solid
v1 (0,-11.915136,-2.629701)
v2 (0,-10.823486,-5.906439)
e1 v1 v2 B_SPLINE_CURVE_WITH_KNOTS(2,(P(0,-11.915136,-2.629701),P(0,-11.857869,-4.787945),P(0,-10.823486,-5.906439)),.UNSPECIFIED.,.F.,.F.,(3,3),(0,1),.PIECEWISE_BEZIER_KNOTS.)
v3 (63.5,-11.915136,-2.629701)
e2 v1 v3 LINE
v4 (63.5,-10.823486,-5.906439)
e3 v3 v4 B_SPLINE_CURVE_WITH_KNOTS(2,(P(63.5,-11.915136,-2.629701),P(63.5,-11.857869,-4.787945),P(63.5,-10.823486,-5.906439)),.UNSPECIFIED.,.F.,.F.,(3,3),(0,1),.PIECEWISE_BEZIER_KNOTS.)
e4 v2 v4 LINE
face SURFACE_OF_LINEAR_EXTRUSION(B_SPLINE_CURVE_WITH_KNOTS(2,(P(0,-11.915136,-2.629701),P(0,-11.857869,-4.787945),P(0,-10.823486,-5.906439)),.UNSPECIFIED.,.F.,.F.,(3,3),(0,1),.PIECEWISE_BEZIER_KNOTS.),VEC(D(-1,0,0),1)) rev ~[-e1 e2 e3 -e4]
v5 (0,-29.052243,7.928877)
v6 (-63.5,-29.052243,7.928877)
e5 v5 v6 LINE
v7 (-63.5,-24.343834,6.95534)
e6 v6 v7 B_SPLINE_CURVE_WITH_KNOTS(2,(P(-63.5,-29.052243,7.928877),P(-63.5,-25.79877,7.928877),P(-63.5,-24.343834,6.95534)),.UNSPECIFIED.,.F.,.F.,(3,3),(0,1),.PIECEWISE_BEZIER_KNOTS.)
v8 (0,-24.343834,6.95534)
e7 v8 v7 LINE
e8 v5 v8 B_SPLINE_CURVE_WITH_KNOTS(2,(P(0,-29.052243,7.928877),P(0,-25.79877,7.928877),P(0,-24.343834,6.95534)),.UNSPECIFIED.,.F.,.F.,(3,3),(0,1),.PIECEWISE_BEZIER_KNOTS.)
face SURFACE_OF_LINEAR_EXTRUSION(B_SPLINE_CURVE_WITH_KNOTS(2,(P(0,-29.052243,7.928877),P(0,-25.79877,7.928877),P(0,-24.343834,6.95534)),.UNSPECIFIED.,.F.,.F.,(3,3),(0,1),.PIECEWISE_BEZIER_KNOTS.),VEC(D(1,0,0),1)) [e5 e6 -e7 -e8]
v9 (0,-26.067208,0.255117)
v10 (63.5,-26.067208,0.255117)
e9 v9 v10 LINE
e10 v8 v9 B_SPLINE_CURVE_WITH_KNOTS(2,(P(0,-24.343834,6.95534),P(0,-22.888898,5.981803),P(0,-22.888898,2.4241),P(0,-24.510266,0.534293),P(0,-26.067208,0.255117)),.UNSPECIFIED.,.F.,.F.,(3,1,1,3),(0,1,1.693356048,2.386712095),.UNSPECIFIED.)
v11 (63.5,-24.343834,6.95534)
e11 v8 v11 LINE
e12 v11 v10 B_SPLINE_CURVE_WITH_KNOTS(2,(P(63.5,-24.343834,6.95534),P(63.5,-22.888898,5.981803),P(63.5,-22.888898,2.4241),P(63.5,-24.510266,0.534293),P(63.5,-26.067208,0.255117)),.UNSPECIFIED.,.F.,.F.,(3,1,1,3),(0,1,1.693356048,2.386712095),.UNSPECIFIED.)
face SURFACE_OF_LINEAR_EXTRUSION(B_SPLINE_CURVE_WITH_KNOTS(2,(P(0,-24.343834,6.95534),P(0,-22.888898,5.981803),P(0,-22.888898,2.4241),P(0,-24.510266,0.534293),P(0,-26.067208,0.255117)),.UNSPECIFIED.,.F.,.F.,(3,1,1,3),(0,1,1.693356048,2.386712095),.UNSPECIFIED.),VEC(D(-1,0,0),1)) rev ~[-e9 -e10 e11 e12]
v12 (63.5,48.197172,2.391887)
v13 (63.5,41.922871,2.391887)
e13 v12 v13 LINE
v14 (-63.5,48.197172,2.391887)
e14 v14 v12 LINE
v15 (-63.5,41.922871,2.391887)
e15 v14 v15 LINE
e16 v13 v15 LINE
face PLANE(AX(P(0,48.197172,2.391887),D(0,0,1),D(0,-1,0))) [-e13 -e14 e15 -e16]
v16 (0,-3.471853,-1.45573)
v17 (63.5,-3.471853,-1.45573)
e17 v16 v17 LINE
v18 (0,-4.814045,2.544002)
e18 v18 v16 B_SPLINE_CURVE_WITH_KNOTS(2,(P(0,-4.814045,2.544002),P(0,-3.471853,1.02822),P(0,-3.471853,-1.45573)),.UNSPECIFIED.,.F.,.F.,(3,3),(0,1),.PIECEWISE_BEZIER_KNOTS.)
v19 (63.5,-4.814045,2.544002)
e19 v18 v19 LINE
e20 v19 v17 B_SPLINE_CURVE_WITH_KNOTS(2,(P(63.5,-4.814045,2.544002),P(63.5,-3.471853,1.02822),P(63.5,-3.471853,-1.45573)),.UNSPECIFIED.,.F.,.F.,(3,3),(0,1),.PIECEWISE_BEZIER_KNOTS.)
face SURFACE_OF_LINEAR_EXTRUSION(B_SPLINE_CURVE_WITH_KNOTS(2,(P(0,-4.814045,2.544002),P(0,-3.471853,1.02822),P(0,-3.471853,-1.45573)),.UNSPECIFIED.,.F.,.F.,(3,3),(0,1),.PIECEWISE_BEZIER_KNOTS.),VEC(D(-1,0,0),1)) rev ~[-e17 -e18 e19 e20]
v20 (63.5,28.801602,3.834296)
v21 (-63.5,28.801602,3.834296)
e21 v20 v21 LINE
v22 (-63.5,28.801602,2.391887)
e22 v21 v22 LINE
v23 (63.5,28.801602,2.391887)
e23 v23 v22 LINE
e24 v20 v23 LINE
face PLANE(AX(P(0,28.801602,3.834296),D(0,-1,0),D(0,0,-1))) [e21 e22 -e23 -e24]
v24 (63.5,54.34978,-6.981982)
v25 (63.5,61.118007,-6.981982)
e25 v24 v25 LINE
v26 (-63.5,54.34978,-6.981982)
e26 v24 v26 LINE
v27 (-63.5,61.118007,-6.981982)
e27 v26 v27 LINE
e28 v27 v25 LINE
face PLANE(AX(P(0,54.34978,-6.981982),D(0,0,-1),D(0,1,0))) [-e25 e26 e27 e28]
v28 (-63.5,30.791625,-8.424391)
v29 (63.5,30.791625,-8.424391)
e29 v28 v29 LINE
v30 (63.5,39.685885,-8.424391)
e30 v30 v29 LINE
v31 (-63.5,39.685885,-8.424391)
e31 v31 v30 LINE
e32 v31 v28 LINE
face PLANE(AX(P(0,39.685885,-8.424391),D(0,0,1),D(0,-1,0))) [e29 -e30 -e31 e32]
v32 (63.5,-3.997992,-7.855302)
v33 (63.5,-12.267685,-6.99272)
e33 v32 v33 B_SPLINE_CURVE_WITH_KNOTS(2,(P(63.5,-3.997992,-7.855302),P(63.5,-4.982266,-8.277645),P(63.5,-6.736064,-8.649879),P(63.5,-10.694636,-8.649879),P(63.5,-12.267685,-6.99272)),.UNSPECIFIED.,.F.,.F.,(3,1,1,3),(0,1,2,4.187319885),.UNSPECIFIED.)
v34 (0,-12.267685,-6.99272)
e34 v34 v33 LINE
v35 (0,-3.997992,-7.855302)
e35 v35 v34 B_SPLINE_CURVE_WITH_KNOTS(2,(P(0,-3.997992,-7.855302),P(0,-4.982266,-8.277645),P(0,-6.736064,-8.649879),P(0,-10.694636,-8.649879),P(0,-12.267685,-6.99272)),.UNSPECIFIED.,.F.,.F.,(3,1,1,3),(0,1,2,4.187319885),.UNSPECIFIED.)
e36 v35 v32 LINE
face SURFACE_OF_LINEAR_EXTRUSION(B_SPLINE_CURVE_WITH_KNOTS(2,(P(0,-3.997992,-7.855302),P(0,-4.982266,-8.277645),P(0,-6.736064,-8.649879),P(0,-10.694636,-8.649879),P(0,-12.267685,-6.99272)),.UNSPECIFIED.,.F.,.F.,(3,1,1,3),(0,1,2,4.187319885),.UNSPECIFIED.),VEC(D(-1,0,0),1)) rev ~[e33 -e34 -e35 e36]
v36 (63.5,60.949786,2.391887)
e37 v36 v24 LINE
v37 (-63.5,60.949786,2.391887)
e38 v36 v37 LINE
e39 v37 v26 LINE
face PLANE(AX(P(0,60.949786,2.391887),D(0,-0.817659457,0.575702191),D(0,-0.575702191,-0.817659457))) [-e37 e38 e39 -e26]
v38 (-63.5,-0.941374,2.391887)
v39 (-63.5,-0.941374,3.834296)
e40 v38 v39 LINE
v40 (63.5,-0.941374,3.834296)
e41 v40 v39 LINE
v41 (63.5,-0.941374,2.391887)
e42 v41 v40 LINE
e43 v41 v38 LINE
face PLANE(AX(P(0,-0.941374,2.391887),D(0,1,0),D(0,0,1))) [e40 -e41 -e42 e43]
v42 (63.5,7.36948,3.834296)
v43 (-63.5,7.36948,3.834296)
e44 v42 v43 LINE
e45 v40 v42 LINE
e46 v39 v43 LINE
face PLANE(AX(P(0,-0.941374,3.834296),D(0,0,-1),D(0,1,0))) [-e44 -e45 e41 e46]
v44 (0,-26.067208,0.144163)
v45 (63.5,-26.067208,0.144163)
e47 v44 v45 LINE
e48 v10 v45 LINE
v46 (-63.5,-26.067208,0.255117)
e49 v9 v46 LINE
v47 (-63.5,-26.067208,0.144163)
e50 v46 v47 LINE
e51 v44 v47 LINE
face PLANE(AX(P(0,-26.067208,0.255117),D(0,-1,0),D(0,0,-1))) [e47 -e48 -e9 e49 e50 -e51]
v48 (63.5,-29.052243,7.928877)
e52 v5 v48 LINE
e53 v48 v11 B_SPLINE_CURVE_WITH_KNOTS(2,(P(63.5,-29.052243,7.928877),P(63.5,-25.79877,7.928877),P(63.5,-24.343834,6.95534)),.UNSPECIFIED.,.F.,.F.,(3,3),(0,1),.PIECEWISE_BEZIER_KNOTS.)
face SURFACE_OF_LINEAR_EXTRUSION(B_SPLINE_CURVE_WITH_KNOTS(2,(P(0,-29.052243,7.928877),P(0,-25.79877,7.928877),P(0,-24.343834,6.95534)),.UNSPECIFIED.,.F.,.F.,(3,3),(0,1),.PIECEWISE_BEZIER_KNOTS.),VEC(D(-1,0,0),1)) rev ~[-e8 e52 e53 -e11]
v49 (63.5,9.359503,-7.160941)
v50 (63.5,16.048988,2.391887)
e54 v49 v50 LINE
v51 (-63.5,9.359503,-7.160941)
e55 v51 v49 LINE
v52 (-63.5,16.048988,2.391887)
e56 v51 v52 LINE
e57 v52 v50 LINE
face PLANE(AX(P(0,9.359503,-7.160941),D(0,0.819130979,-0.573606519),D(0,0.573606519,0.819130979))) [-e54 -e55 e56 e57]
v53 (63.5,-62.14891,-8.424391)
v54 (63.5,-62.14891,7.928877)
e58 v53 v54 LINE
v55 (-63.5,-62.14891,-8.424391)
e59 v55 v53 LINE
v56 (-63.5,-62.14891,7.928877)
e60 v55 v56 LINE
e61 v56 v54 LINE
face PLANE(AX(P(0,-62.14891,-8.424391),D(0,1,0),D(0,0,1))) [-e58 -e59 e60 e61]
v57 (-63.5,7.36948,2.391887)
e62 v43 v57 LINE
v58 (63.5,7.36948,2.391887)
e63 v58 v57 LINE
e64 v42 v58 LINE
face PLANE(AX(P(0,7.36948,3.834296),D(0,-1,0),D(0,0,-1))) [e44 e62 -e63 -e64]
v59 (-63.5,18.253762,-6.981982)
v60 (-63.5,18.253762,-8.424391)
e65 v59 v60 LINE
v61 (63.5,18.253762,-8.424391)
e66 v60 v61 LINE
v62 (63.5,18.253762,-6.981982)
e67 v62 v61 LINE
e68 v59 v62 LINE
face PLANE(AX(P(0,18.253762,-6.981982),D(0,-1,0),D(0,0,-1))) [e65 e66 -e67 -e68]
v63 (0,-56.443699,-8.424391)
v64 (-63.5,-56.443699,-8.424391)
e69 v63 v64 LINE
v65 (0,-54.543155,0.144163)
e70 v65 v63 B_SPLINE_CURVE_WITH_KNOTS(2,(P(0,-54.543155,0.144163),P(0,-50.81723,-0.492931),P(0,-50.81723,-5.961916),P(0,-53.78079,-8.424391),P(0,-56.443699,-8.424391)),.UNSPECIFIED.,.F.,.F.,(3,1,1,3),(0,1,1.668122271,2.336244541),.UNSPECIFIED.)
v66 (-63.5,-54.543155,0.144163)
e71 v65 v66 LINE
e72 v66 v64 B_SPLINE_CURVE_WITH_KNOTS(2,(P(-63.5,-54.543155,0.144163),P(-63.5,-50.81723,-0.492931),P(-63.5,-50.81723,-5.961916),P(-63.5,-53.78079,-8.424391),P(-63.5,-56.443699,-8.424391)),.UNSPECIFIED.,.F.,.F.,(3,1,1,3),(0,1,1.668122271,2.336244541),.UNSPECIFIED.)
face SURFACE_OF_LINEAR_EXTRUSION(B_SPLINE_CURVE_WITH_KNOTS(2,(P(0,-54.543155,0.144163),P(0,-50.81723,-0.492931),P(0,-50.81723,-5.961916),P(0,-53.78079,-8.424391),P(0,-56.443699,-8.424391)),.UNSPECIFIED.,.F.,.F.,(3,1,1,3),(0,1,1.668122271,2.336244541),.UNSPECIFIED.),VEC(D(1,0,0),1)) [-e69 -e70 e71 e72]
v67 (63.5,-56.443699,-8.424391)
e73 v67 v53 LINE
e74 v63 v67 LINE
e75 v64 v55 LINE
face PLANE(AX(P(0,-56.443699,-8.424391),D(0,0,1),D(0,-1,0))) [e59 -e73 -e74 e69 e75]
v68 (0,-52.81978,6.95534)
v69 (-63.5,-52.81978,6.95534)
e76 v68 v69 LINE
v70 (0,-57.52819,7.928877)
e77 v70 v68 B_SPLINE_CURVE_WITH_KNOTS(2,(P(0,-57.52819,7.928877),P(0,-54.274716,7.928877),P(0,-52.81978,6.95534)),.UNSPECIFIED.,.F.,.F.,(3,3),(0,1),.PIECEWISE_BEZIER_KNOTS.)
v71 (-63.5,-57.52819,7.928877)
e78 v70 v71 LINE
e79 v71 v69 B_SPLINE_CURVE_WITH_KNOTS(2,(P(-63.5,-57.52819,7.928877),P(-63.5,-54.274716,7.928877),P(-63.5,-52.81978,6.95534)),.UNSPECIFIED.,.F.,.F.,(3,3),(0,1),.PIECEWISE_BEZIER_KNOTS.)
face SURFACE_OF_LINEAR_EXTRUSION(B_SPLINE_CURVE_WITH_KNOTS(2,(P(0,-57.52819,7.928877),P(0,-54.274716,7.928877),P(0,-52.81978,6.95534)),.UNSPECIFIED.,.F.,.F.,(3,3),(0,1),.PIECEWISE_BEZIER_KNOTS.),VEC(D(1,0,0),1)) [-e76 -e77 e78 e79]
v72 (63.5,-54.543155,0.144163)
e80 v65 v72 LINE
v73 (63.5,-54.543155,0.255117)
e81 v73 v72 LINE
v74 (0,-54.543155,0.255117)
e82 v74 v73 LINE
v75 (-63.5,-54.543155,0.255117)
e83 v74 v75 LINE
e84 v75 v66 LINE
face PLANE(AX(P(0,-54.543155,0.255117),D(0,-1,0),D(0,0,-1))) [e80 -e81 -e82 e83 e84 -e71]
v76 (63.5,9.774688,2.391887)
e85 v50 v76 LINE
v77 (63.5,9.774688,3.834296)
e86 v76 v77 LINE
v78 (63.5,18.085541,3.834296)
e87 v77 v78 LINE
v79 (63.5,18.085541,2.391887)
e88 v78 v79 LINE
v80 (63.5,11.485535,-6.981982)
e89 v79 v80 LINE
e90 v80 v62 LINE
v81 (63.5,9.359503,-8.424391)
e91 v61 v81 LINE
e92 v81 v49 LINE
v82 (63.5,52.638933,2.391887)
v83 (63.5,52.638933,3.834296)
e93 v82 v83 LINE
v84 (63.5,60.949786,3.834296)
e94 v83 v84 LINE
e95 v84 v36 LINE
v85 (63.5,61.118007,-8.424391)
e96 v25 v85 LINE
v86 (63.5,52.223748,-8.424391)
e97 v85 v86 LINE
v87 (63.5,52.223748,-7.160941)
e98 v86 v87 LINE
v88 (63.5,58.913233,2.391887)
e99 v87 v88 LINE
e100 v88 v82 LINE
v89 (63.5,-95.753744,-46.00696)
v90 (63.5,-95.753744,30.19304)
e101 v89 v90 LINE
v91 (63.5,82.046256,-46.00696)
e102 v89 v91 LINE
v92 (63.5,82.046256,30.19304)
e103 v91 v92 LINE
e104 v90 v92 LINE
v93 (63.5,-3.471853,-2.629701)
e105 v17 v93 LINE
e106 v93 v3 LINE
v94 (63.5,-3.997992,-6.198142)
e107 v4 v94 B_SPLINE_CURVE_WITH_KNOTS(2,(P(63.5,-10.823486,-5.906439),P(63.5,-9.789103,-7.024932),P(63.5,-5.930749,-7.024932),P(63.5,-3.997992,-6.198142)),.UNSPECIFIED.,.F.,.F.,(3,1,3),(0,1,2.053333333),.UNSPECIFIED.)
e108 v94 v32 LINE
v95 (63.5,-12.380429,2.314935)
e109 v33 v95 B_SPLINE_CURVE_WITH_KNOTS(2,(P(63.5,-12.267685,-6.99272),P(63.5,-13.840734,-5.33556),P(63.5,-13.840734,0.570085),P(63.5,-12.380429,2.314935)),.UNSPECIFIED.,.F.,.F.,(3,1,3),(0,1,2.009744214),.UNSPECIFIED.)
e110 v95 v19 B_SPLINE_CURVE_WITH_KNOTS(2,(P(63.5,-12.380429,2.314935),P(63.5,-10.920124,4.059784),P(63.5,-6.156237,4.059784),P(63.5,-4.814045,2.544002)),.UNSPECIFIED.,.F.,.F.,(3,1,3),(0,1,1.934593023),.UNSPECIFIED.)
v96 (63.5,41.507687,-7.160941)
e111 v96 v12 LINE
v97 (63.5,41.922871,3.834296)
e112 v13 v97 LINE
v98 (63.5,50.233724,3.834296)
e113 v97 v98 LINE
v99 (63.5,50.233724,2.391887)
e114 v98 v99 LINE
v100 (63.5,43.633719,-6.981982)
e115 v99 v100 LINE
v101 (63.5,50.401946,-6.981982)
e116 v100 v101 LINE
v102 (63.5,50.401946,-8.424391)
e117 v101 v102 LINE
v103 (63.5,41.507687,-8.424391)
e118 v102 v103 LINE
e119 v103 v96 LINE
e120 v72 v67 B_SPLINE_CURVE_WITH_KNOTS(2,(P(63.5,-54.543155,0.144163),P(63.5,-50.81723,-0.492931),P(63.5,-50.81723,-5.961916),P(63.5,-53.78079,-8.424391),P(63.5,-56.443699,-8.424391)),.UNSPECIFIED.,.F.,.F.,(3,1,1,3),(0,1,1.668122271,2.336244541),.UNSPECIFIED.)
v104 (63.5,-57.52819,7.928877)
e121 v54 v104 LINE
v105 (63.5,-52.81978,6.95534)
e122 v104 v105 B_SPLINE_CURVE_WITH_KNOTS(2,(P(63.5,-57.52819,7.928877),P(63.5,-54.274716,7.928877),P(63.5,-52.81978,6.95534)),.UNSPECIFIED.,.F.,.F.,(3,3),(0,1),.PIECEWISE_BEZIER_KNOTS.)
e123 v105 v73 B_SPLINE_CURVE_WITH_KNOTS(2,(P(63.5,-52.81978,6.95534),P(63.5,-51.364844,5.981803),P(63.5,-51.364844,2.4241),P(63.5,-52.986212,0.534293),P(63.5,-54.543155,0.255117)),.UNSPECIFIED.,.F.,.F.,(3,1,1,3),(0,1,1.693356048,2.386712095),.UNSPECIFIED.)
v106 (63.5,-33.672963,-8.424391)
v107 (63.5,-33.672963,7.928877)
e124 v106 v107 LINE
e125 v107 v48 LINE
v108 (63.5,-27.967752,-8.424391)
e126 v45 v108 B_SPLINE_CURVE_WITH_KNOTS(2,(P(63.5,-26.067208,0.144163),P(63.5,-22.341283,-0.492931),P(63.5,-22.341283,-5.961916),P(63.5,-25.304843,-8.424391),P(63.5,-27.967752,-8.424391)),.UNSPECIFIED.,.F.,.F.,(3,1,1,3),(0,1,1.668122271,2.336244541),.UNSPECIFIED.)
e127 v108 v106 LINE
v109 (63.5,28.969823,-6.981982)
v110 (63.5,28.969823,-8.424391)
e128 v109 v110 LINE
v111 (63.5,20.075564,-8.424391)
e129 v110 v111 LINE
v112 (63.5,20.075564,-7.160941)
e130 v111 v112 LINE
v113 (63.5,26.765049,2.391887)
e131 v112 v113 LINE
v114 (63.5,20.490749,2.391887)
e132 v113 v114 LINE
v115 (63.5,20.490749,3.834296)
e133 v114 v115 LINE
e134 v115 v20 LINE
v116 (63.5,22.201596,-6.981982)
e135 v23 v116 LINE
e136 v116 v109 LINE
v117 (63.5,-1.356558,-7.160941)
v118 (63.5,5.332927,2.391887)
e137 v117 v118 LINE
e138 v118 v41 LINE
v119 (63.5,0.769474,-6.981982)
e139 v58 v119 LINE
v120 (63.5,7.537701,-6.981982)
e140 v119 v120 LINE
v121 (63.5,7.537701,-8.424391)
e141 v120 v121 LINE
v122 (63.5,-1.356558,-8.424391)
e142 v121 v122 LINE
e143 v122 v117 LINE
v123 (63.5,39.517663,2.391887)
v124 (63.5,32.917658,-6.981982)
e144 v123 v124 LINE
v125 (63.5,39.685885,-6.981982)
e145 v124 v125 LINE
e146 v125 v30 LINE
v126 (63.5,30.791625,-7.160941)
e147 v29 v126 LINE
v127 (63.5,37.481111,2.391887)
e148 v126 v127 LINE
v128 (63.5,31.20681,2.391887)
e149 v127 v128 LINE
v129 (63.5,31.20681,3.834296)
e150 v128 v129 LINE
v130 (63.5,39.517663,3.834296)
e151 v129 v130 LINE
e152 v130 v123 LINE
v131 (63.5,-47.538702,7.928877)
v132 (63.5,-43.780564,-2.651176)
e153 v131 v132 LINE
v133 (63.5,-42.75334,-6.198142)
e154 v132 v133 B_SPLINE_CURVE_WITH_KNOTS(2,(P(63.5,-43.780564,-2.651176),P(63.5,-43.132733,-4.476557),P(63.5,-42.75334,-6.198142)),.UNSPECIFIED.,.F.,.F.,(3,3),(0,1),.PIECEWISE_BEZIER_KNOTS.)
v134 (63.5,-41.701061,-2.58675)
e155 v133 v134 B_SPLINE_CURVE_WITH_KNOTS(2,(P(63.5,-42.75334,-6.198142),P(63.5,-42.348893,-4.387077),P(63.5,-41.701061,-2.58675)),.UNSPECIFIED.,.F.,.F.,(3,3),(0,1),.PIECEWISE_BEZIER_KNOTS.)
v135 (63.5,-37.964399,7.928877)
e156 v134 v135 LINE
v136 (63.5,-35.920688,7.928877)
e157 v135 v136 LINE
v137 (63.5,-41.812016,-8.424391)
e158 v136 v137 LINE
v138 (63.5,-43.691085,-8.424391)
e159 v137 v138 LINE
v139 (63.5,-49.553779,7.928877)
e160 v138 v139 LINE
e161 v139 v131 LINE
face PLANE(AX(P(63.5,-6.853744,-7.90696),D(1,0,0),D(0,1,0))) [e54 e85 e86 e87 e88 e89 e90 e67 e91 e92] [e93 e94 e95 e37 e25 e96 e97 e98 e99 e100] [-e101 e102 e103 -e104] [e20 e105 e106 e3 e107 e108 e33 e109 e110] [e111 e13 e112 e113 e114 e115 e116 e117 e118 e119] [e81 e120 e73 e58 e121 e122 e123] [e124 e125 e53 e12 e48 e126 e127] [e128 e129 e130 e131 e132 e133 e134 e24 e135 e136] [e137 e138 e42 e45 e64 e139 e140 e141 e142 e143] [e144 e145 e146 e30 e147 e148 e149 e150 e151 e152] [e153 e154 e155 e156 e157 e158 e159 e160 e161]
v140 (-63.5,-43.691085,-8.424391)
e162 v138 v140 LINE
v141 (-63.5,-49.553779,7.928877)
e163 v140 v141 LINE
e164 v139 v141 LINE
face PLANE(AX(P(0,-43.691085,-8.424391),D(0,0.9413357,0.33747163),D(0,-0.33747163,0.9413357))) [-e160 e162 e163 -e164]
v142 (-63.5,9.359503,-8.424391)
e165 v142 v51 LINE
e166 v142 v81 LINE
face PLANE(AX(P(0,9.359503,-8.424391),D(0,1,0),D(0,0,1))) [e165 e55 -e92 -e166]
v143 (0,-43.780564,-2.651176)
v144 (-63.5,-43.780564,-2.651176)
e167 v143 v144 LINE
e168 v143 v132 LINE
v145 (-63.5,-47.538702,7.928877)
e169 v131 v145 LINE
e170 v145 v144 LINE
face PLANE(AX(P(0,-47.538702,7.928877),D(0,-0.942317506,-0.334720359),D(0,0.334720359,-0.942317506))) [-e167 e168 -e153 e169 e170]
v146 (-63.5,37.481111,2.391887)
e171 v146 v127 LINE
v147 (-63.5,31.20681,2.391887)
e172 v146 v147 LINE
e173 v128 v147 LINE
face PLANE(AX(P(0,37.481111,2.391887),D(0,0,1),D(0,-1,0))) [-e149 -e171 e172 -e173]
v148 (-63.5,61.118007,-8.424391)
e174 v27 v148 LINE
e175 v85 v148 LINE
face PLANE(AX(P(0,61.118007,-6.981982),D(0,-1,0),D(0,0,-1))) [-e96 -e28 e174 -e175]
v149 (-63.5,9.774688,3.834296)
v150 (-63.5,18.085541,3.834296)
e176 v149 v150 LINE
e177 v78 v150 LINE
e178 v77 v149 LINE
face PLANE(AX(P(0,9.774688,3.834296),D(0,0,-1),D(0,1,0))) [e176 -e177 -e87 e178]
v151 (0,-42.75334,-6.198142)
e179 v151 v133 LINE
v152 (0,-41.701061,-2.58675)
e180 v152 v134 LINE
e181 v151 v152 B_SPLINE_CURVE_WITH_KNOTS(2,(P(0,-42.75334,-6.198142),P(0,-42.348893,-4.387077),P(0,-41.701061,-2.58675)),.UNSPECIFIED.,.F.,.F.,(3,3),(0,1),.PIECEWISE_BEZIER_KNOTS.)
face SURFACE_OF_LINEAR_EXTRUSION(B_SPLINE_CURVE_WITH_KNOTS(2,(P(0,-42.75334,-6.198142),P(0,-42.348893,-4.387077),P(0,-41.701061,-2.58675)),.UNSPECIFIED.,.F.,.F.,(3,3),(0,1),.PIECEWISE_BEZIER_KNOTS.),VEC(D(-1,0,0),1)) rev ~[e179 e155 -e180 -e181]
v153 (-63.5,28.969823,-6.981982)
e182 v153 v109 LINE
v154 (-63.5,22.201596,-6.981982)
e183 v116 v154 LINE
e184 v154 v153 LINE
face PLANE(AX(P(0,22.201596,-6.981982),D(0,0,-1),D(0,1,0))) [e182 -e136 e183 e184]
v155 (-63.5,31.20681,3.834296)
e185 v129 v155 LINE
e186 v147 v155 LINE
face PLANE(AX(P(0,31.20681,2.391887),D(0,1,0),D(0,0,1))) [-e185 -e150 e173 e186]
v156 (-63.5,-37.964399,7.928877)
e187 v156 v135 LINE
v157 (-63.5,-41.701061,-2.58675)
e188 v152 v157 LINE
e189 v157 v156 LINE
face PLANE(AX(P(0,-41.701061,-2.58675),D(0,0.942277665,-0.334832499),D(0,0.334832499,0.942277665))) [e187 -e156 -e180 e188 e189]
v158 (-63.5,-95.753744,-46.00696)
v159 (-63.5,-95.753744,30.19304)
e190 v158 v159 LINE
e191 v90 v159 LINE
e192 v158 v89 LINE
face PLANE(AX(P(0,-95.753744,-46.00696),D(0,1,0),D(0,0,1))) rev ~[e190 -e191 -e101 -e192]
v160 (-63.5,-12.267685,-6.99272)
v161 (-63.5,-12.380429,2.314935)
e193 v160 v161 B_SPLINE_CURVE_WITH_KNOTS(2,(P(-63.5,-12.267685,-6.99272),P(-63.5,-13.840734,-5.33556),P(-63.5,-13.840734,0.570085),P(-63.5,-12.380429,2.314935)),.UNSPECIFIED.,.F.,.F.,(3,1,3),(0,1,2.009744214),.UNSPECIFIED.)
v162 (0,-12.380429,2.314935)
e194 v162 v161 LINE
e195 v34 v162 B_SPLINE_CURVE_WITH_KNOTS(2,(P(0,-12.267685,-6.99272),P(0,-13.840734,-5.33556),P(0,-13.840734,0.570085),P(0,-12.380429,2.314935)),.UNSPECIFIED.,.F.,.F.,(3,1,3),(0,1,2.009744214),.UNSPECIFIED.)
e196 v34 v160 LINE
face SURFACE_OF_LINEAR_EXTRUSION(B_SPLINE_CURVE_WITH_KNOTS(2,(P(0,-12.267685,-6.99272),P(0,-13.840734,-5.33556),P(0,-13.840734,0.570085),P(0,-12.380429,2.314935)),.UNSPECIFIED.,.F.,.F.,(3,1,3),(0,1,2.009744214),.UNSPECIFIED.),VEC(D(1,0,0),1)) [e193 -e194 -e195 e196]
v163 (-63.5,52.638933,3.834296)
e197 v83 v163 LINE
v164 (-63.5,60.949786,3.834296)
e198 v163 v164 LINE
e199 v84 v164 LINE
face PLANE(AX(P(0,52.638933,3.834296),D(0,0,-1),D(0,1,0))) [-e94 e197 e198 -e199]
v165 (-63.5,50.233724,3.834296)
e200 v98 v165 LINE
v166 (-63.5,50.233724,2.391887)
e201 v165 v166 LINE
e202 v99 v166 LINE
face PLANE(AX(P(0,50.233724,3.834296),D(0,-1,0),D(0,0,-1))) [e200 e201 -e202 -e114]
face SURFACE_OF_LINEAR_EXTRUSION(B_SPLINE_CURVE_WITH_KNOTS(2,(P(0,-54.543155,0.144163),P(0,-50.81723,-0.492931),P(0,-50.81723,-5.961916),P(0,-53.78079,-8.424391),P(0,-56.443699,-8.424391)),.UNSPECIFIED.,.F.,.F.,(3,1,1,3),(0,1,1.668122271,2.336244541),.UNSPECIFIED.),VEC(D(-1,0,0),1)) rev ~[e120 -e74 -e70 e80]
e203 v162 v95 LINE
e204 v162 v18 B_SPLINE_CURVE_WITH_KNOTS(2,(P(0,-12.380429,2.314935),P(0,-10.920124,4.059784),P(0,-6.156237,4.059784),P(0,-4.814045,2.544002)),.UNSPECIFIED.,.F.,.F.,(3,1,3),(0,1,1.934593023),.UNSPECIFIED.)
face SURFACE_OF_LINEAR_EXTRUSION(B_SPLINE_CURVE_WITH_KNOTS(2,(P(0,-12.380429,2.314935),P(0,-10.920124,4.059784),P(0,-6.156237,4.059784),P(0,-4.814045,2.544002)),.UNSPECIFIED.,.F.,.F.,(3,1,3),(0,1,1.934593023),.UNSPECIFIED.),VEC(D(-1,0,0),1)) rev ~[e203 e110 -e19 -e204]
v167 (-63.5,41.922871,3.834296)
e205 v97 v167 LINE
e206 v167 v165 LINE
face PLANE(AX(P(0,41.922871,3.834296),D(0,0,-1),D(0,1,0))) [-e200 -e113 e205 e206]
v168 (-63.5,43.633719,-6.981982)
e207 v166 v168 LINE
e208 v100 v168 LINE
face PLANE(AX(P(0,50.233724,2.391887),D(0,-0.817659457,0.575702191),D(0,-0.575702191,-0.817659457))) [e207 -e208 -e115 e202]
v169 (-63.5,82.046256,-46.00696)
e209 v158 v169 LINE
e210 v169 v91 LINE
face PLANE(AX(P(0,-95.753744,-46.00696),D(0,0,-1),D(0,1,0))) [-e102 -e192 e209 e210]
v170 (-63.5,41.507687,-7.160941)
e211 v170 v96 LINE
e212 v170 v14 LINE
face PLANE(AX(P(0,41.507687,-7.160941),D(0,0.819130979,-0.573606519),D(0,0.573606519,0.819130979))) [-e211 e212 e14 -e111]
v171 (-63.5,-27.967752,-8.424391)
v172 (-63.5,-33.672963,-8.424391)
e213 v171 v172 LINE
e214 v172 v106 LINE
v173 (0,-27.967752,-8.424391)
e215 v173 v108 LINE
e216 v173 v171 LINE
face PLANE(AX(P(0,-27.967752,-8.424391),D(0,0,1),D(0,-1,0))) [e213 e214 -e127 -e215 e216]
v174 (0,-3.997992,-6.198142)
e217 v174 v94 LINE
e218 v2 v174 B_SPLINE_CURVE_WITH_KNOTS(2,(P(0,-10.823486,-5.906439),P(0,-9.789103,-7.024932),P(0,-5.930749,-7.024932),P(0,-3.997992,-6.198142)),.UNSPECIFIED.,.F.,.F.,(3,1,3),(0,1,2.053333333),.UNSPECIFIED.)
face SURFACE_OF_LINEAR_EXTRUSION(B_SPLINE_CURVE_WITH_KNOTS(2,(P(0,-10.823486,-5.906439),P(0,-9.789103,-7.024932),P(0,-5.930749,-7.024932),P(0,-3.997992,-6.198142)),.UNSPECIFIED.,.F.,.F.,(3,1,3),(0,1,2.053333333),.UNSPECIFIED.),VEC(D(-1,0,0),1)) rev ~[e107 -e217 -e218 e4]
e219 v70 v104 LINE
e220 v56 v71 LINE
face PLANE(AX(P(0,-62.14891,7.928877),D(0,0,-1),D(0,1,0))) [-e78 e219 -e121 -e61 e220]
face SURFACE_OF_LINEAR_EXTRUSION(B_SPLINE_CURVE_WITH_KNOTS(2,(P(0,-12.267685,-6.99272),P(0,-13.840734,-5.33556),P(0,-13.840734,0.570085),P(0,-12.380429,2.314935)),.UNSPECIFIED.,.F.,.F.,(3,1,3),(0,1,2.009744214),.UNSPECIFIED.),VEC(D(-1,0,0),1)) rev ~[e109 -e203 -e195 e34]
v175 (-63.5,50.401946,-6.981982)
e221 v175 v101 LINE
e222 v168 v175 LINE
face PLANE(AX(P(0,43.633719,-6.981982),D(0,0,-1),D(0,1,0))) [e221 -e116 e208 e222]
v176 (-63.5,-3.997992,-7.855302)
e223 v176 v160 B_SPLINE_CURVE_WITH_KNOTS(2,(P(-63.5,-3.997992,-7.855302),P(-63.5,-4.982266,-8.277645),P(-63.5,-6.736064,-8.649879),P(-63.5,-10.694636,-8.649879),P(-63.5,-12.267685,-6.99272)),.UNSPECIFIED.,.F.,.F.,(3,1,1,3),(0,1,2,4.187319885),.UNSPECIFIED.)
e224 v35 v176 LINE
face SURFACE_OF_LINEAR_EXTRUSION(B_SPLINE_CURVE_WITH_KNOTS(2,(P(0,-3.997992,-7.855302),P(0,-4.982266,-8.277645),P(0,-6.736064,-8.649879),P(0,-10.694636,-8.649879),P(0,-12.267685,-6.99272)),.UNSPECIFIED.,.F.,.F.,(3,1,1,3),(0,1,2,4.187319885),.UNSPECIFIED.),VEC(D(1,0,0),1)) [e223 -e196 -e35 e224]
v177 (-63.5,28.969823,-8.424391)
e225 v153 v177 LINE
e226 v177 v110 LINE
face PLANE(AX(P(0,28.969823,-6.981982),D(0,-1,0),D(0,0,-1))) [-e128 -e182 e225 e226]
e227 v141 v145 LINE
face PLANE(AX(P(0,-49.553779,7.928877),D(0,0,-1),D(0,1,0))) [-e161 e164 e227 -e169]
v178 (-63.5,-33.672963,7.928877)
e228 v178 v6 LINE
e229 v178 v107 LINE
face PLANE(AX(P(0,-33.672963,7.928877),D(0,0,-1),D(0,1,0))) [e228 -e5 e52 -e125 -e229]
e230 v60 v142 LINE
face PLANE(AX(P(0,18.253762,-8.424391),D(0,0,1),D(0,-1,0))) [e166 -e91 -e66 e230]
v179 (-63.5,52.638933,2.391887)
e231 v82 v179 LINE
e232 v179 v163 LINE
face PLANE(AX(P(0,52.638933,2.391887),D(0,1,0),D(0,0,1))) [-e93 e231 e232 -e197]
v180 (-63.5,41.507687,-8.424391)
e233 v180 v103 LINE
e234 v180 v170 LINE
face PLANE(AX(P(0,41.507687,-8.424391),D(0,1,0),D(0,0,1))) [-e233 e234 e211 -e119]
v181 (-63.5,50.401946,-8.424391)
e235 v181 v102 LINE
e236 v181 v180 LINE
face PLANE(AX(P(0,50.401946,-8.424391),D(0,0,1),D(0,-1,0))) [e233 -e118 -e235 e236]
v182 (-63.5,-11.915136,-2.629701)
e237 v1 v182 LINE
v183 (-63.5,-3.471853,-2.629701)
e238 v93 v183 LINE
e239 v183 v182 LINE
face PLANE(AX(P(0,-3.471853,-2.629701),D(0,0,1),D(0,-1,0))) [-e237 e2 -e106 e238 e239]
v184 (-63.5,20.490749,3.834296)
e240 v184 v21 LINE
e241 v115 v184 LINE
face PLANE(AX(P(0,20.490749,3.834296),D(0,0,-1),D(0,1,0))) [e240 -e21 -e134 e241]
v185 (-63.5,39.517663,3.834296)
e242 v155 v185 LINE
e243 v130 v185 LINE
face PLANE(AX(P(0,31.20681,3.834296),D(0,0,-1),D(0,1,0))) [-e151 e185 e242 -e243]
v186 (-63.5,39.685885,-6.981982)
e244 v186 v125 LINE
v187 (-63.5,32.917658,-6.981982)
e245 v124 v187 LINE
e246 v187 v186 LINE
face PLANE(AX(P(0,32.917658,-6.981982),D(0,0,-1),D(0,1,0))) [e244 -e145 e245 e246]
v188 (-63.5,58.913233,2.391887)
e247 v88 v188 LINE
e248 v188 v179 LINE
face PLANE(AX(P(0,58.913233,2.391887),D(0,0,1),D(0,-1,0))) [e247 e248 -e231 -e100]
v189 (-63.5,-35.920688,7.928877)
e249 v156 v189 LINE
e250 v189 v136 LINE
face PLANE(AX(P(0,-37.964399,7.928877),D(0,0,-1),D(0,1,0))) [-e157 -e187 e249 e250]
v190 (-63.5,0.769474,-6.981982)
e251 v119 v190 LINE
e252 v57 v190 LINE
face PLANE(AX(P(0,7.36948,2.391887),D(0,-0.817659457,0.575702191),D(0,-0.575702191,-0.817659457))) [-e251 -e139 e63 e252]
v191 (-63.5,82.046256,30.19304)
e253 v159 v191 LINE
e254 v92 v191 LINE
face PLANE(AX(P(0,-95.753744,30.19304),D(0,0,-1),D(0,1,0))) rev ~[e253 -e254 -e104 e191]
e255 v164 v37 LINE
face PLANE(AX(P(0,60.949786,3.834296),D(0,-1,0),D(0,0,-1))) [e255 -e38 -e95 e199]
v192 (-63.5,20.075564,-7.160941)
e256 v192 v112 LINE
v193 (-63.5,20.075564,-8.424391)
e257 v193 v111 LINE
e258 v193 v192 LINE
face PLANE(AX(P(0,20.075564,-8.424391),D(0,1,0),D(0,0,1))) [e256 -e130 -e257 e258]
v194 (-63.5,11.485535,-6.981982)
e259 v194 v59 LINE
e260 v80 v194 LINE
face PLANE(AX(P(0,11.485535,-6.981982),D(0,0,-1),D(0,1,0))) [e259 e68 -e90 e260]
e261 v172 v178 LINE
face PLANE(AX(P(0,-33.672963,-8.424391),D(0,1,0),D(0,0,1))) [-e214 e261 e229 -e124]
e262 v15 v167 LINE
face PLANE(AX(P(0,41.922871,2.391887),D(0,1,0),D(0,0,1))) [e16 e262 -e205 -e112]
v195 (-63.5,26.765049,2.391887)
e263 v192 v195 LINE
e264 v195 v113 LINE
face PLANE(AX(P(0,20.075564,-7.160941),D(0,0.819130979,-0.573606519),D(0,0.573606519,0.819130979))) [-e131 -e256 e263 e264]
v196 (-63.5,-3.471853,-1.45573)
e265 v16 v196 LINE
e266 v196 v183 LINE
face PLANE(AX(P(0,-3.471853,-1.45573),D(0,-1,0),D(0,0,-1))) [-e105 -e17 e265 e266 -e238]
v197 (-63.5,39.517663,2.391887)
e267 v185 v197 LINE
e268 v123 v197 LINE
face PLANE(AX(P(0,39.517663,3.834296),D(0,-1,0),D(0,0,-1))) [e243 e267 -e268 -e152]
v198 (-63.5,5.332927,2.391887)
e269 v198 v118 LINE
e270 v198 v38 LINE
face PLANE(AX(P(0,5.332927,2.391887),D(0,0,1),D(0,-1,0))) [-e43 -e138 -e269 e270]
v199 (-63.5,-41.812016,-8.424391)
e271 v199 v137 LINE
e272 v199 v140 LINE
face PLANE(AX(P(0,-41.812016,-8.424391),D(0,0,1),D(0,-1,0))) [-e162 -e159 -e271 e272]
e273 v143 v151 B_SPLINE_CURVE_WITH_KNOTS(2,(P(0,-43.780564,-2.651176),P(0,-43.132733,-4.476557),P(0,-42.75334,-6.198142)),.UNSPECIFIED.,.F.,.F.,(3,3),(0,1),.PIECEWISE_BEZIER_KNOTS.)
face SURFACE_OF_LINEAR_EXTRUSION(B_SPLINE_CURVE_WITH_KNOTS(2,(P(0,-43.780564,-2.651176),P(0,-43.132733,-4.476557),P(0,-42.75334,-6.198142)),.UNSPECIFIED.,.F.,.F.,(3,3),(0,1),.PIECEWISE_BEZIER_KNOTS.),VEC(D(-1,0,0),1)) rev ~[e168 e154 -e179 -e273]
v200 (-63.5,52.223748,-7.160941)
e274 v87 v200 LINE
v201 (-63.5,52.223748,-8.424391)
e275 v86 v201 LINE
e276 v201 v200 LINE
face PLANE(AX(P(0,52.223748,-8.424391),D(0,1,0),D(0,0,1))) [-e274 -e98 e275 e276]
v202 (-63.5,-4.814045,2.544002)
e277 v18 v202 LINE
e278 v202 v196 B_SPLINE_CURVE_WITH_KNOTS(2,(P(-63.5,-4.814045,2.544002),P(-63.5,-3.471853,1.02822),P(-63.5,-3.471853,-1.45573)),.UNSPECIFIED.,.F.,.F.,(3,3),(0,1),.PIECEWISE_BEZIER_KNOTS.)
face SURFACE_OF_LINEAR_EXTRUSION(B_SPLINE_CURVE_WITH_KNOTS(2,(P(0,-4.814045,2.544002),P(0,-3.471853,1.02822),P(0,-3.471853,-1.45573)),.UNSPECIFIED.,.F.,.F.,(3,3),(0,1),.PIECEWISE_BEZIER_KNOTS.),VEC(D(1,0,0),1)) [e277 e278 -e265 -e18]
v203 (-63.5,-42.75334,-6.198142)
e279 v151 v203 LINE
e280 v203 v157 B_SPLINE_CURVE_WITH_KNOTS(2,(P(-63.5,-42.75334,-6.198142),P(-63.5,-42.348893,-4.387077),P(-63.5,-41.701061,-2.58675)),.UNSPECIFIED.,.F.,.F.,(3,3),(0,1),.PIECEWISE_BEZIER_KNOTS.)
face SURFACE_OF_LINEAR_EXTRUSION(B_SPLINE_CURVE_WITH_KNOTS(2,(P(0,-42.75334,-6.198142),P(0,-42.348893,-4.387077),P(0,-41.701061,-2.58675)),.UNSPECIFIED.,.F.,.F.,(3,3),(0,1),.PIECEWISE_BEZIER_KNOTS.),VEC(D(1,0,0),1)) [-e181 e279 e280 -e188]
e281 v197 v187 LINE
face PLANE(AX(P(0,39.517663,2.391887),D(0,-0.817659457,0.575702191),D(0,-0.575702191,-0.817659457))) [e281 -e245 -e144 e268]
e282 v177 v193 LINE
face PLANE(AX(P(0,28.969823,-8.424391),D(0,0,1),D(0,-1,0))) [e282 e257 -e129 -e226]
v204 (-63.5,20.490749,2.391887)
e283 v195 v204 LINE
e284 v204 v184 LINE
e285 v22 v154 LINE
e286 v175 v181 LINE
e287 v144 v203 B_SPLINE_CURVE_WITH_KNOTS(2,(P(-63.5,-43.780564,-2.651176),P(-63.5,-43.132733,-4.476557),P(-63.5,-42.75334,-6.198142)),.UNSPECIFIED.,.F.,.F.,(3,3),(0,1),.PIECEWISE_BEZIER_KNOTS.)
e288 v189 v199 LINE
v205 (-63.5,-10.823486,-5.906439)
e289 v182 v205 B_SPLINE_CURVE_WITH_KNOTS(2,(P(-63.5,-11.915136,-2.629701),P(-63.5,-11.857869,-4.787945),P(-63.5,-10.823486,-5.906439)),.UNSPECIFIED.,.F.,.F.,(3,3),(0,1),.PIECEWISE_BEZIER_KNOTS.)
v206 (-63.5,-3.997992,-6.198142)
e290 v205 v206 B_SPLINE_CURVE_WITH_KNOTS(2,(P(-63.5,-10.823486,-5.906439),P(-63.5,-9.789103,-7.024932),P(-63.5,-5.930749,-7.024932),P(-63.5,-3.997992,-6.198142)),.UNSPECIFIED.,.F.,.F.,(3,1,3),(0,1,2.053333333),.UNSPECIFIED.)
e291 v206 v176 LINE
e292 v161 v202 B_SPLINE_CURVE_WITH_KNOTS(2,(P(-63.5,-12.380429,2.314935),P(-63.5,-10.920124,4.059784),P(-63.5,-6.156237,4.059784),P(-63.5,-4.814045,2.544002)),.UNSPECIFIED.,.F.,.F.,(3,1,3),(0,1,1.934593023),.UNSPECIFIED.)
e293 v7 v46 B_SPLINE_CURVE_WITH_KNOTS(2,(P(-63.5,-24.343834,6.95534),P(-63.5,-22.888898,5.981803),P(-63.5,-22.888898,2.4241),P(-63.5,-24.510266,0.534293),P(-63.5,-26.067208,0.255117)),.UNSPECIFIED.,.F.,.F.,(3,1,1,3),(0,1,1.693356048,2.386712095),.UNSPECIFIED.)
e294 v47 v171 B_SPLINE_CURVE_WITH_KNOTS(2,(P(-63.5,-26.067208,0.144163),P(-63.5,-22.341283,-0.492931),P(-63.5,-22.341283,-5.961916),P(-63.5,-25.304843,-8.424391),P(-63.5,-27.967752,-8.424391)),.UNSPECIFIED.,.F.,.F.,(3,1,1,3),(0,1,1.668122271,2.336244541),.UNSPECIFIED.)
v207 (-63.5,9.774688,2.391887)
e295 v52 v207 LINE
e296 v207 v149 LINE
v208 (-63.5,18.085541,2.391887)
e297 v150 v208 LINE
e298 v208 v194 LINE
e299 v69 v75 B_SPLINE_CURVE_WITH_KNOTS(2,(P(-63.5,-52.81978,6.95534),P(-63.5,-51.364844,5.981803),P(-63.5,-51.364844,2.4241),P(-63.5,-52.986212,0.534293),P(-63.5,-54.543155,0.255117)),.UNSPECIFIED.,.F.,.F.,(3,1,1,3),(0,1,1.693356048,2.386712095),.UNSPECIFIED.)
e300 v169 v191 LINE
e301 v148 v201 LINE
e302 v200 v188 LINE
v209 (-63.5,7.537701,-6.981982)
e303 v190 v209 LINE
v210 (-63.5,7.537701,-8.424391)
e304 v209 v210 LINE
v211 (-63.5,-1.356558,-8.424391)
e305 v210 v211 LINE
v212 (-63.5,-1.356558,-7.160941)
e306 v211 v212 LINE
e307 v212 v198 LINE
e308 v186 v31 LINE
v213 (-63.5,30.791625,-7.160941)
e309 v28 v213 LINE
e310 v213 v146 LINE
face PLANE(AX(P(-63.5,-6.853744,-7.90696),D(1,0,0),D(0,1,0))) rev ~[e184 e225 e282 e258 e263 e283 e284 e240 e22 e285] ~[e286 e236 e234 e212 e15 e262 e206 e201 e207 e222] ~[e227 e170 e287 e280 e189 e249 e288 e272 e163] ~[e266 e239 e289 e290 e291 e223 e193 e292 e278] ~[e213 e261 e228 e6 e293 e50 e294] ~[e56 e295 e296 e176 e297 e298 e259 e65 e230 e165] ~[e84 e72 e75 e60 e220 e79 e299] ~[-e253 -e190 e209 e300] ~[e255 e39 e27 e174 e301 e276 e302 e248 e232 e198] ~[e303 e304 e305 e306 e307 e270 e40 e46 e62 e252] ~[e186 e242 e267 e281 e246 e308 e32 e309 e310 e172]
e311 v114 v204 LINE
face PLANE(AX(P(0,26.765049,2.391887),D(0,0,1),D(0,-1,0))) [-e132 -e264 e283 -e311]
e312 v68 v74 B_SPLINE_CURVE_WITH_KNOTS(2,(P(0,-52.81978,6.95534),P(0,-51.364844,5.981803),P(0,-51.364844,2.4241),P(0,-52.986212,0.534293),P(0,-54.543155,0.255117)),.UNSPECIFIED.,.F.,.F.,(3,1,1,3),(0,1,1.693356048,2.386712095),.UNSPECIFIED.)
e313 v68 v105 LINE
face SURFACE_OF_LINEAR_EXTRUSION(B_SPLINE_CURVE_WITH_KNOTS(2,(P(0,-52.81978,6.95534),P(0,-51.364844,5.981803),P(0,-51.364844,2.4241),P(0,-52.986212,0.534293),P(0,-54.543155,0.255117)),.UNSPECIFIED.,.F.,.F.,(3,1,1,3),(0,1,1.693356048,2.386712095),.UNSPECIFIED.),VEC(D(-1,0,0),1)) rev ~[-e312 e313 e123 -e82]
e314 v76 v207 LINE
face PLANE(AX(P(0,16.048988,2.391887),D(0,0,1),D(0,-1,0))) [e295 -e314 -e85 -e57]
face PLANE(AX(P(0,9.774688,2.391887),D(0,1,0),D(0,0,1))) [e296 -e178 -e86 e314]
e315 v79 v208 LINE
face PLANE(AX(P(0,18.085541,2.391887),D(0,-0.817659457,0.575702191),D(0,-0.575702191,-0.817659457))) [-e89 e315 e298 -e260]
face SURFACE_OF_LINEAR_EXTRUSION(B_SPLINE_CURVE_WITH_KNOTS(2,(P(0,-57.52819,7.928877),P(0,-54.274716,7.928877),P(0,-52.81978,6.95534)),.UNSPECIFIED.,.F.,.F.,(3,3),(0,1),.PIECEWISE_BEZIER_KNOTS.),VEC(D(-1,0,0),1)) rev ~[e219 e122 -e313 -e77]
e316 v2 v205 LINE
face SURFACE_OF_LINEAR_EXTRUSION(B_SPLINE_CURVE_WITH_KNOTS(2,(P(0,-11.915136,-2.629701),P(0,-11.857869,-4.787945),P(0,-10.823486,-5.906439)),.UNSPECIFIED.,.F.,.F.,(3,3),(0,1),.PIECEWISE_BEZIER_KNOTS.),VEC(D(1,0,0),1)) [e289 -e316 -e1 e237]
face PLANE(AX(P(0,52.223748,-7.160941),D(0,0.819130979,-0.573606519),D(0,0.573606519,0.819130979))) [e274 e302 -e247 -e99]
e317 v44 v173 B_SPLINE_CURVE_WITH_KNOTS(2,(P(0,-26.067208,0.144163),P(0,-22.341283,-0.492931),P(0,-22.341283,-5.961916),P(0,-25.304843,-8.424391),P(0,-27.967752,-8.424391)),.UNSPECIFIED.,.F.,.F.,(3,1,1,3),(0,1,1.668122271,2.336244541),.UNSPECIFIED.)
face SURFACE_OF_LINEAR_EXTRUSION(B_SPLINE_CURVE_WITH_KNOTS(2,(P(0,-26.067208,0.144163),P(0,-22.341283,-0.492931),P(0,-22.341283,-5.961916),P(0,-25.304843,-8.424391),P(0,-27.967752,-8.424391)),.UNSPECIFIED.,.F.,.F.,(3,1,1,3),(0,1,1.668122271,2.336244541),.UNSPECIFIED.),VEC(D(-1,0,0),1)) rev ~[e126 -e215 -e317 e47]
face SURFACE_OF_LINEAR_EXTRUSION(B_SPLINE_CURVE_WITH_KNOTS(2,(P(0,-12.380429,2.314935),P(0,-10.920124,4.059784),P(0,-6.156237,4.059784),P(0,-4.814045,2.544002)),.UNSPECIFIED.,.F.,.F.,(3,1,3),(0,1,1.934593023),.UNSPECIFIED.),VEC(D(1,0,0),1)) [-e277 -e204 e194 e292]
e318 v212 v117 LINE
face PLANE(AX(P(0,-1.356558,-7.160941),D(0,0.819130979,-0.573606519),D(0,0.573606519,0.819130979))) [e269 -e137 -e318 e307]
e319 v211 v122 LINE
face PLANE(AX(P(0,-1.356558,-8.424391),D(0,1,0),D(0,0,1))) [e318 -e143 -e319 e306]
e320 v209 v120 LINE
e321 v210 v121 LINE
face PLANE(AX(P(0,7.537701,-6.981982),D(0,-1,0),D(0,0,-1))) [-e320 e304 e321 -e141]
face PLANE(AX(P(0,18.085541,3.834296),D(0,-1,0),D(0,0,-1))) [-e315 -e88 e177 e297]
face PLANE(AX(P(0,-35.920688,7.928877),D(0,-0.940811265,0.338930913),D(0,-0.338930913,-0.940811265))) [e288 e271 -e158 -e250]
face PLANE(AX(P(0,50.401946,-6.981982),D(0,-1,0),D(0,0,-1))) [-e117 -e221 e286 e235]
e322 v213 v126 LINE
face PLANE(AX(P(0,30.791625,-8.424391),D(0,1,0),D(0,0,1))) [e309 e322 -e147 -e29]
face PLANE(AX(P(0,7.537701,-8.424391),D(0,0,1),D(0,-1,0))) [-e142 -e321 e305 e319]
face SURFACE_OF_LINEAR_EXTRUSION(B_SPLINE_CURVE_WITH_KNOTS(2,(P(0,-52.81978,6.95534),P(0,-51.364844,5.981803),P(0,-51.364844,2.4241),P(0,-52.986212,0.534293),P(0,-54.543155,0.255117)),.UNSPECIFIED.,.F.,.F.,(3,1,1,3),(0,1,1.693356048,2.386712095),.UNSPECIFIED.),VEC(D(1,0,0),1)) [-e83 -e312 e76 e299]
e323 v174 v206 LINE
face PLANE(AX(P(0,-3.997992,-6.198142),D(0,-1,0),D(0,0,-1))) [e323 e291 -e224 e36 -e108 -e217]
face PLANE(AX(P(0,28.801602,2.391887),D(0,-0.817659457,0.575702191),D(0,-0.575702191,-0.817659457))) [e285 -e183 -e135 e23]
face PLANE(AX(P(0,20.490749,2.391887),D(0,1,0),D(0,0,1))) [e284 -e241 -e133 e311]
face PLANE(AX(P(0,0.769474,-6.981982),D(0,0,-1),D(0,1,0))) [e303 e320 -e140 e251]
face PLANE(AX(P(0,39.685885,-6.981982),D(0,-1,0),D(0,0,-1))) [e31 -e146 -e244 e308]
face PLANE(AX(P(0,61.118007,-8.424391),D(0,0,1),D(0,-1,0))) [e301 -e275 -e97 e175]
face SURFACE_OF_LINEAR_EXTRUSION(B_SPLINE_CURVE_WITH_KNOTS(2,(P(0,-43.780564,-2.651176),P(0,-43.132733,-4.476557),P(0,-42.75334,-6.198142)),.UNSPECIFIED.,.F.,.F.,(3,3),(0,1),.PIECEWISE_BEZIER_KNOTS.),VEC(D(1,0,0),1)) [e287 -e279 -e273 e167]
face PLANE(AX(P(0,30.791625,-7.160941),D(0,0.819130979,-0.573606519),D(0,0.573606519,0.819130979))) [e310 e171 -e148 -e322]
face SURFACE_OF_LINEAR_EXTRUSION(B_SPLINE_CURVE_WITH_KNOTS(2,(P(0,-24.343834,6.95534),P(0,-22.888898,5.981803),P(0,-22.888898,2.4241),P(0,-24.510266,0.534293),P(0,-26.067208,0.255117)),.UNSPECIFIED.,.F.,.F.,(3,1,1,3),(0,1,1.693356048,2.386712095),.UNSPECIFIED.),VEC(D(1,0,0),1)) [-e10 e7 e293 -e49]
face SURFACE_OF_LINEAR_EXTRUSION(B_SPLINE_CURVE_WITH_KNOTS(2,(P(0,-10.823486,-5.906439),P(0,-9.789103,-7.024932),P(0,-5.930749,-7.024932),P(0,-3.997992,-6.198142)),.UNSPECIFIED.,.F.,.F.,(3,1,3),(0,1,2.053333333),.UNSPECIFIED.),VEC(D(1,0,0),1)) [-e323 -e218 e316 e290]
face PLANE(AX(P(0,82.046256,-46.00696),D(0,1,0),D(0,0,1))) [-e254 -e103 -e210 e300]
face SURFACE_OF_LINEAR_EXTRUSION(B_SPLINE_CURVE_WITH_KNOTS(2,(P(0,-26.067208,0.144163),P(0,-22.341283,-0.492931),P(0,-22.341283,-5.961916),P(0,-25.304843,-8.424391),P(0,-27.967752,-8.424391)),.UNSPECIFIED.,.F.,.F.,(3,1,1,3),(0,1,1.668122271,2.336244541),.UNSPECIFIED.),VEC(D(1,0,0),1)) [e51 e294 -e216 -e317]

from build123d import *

# Parameters (mm, degrees)
F0_W     = 177.8
F0_H     = 76.2
F1_DEPTH = 63.5


with BuildPart() as f1:
    # F0 (on Right) → F1 (new body, symmetric)
    with BuildSketch(Plane.YZ):
        with Locations((-6.8537443876, -7.9069595627)):
            Rectangle(F0_W, F0_H)
        with BuildLine():
            Line((-62.1489095043, -8.4243910387), (-62.1489095043, 7.9288767233))
            Line((-62.1489095043, 7.9288767233), (-57.528189723, 7.9288767233))
            add(Edge.make_bspline(
                [(-57.528189723, 7.9288767233), (-54.2747162286, 7.9288767233), (-52.819780062, 6.9553401001)],
                knots=[0, 0, 0, 1, 1, 1], degree=2))
            add(Edge.make_bspline(
                [(-52.819780062, 6.9553401001), (-51.3648438954, 5.981803477), (-51.3648438954, 3.8808255439)],
                knots=[0, 0, 0, 1, 1, 1], degree=2))
            add(Edge.make_bspline(
                [(-51.3648438954, 3.8808255439), (-51.3648438954, 2.4240997879), (-52.1755278849, 1.4791965948)],
                knots=[0, 0, 0, 1, 1, 1], degree=2))
            add(Edge.make_bspline(
                [(-52.1755278849, 1.4791965948), (-52.9862118744, 0.5342934017), (-54.5431546357, 0.2551174583)],
                knots=[0, 0, 0, 1, 1, 1], degree=2))
            Line((-54.5431546357, 0.2551174583), (-54.5431546357, 0.1441629167))
            add(Edge.make_bspline(
                [(-54.5431546357, 0.1441629167), (-50.8172295449, -0.4929309029), (-50.8172295449, -3.7714586486)],
                knots=[0, 0, 0, 1, 1, 1], degree=2))
            add(Edge.make_bspline(
                [(-50.8172295449, -3.7714586486), (-50.8172295449, -5.9619160507), (-52.2990095522, -7.1931535447)],
                knots=[0, 0, 0, 1, 1, 1], degree=2))
            add(Edge.make_bspline(
                [(-52.2990095522, -7.1931535447), (-53.7807895595, -8.4243910387), (-56.4436985582, -8.4243910387)],
                knots=[0, 0, 0, 1, 1, 1], degree=2))
            Line((-56.4436985582, -8.4243910387), (-62.1489095043, -8.4243910387))
        make_face(mode=Mode.SUBTRACT)
        with BuildLine():
            Line((-41.7010612389, -2.5867504784), (-37.9643986117, 7.9288767233))
            Line((-37.9643986117, 7.9288767233), (-35.9206875388, 7.9288767233))
            Line((-35.9206875388, 7.9288767233), (-41.8120157805, -8.4243910387))
            Line((-41.8120157805, -8.4243910387), (-43.6910846304, -8.4243910387))
            Line((-43.6910846304, -8.4243910387), (-49.553779442, 7.9288767233))
            Line((-49.553779442, 7.9288767233), (-47.5387017992, 7.9288767233))
            Line((-47.5387017992, 7.9288767233), (-43.7805640994, -2.6511756962))
            add(Edge.make_bspline(
                [(-43.7805640994, -2.6511756962), (-43.1327327436, -4.4765568646), (-42.7533397948, -6.198141849)],
                knots=[0, 0, 0, 1, 1, 1], degree=2))
            add(Edge.make_bspline(
                [(-42.7533397948, -6.198141849), (-42.3488925948, -4.3870773956), (-41.7010612389, -2.5867504784)],
                knots=[0, 0, 0, 1, 1, 1], degree=2))
        make_face(mode=Mode.SUBTRACT)
        with BuildLine():
            Line((-33.6729632765, -8.4243910387), (-33.6729632765, 7.9288767233))
            Line((-33.6729632765, 7.9288767233), (-29.0522434952, 7.9288767233))
            add(Edge.make_bspline(
                [(-29.0522434952, 7.9288767233), (-25.7987700008, 7.9288767233), (-24.3438338342, 6.9553401001)],
                knots=[0, 0, 0, 1, 1, 1], degree=2))
            add(Edge.make_bspline(
                [(-24.3438338342, 6.9553401001), (-22.8888976676, 5.981803477), (-22.8888976676, 3.8808255439)],
                knots=[0, 0, 0, 1, 1, 1], degree=2))
            add(Edge.make_bspline(
                [(-22.8888976676, 3.8808255439), (-22.8888976676, 2.4240997879), (-23.6995816571, 1.4791965948)],
                knots=[0, 0, 0, 1, 1, 1], degree=2))
            add(Edge.make_bspline(
                [(-23.6995816571, 1.4791965948), (-24.5102656466, 0.5342934017), (-26.067208408, 0.2551174583)],
                knots=[0, 0, 0, 1, 1, 1], degree=2))
            Line((-26.067208408, 0.2551174583), (-26.067208408, 0.1441629167))
            add(Edge.make_bspline(
                [(-26.067208408, 0.1441629167), (-22.3412833171, -0.4929309029), (-22.3412833171, -3.7714586486)],
                knots=[0, 0, 0, 1, 1, 1], degree=2))
            add(Edge.make_bspline(
                [(-22.3412833171, -3.7714586486), (-22.3412833171, -5.9619160507), (-23.8230633244, -7.1931535447)],
                knots=[0, 0, 0, 1, 1, 1], degree=2))
            add(Edge.make_bspline(
                [(-23.8230633244, -7.1931535447), (-25.3048433317, -8.4243910387), (-27.9677523304, -8.4243910387)],
                knots=[0, 0, 0, 1, 1, 1], degree=2))
            Line((-27.9677523304, -8.4243910387), (-33.6729632765, -8.4243910387))
        make_face(mode=Mode.SUBTRACT)
        with BuildLine():
            add(Edge.make_bspline(
                [(-5.8591651196, -8.4637620051), (-6.7360639162, -8.6498793007), (-7.9780389465, -8.6498793007)],
                knots=[0, 0, 0, 1, 1, 1], degree=2))
            add(Edge.make_bspline(
                [(-7.9780389465, -8.6498793007), (-10.6946356266, -8.6498793007), (-12.2676846924, -6.9927195341)],
                knots=[0, 0, 0, 1, 1, 1], degree=2))
            add(Edge.make_bspline(
                [(-12.2676846924, -6.9927195341), (-13.8407337581, -5.3355597674), (-13.8407337581, -2.3970540041)],
                knots=[0, 0, 0, 1, 1, 1], degree=2))
            add(Edge.make_bspline(
                [(-13.8407337581, -2.3970540041), (-13.8407337581, 0.5700851893), (-12.3804288234, 2.3149348356)],
                knots=[0, 0, 0, 1, 1, 1], degree=2))
            add(Edge.make_bspline(
                [(-12.3804288234, 2.3149348356), (-10.9201238886, 4.059784482), (-8.4576489006, 4.059784482)],
                knots=[0, 0, 0, 1, 1, 1], degree=2))
            add(Edge.make_bspline(
                [(-8.4576489006, 4.059784482), (-6.1562369569, 4.059784482), (-4.8140449212, 2.5440022764)],
                knots=[0, 0, 0, 1, 1, 1], degree=2))
            add(Edge.make_bspline(
                [(-4.8140449212, 2.5440022764), (-3.4718528856, 1.0282200708), (-3.4718528856, -1.4557299898)],
                knots=[0, 0, 0, 1, 1, 1], degree=2))
            Line((-3.4718528856, -1.4557299898), (-3.4718528856, -2.6297006236))
            Line((-3.4718528856, -2.6297006236), (-11.9151355844, -2.6297006236))
            add(Edge.make_bspline(
                [(-11.9151355844, -2.6297006236), (-11.8578687242, -4.7879454169), (-10.8234860621, -5.9064387799)],
                knots=[0, 0, 0, 1, 1, 1], degree=2))
            add(Edge.make_bspline(
                [(-10.8234860621, -5.9064387799), (-9.7891033999, -7.0249321429), (-7.9100345501, -7.0249321429)],
                knots=[0, 0, 0, 1, 1, 1], degree=2))
            add(Edge.make_bspline(
                [(-7.9100345501, -7.0249321429), (-5.9307486949, -7.0249321429), (-3.9979921636, -6.198141849)],
                knots=[0, 0, 0, 1, 1, 1], degree=2))
            Line((-3.9979921636, -6.198141849), (-3.9979921636, -7.8553016156))
            add(Edge.make_bspline(
                [(-3.9979921636, -7.8553016156), (-4.982266323, -8.2776447095), (-5.8591651196, -8.4637620051)],
                knots=[0, 0, 0, 1, 1, 1], degree=2))
        make_face(mode=Mode.SUBTRACT)
        Polygon((7.5377009853, -6.9819819978), (7.5377009853, -8.4243910387), (-1.3565582375, -8.4243910387), (-1.3565582375, -7.1609409358), (5.3329268681, 2.391887179), (-0.9413735011, 2.391887179), (-0.9413735011, 3.83429622), (7.3694795835, 3.83429622), (7.3694795835, 2.391887179), (0.769473947, -6.9819819978), align=None, mode=Mode.SUBTRACT)
        Polygon((18.2537621977, -6.9819819978), (18.2537621977, -8.4243910387), (9.3595029749, -8.4243910387), (9.3595029749, -7.1609409358), (16.0489880805, 2.391887179), (9.7746877113, 2.391887179), (9.7746877113, 3.83429622), (18.0855407959, 3.83429622), (18.0855407959, 2.391887179), (11.4855351594, -6.9819819978), align=None, mode=Mode.SUBTRACT)
        Polygon((28.9698234101, -6.9819819978), (28.9698234101, -8.4243910387), (20.0755641874, -8.4243910387), (20.0755641874, -7.1609409358), (26.7650492929, 2.391887179), (20.4907489237, 2.391887179), (20.4907489237, 3.83429622), (28.8016020083, 3.83429622), (28.8016020083, 2.391887179), (22.2015963718, -6.9819819978), align=None, mode=Mode.SUBTRACT)
        Polygon((39.6858846225, -6.9819819978), (39.6858846225, -8.4243910387), (30.7916253998, -8.4243910387), (30.7916253998, -7.1609409358), (37.4811105053, 2.391887179), (31.2068101361, 2.391887179), (31.2068101361, 3.83429622), (39.5176632207, 3.83429622), (39.5176632207, 2.391887179), (32.9176575842, -6.9819819978), align=None, mode=Mode.SUBTRACT)
        Polygon((50.4019458349, -6.9819819978), (50.4019458349, -8.4243910387), (41.5076866122, -8.4243910387), (41.5076866122, -7.1609409358), (48.1971717177, 2.391887179), (41.9228713485, 2.391887179), (41.9228713485, 3.83429622), (50.2337244331, 3.83429622), (50.2337244331, 2.391887179), (43.6337187966, -6.9819819978), align=None, mode=Mode.SUBTRACT)
        Polygon((61.1180070473, -6.9819819978), (61.1180070473, -8.4243910387), (52.2237478246, -8.4243910387), (52.2237478246, -7.1609409358), (58.9132329301, 2.391887179), (52.6389325609, 2.391887179), (52.6389325609, 3.83429622), (60.9497856455, 3.83429622), (60.9497856455, 2.391887179), (54.349780009, -6.9819819978), align=None, mode=Mode.SUBTRACT)
    extrude(amount=F1_DEPTH, both=True)


solid = f1.part
